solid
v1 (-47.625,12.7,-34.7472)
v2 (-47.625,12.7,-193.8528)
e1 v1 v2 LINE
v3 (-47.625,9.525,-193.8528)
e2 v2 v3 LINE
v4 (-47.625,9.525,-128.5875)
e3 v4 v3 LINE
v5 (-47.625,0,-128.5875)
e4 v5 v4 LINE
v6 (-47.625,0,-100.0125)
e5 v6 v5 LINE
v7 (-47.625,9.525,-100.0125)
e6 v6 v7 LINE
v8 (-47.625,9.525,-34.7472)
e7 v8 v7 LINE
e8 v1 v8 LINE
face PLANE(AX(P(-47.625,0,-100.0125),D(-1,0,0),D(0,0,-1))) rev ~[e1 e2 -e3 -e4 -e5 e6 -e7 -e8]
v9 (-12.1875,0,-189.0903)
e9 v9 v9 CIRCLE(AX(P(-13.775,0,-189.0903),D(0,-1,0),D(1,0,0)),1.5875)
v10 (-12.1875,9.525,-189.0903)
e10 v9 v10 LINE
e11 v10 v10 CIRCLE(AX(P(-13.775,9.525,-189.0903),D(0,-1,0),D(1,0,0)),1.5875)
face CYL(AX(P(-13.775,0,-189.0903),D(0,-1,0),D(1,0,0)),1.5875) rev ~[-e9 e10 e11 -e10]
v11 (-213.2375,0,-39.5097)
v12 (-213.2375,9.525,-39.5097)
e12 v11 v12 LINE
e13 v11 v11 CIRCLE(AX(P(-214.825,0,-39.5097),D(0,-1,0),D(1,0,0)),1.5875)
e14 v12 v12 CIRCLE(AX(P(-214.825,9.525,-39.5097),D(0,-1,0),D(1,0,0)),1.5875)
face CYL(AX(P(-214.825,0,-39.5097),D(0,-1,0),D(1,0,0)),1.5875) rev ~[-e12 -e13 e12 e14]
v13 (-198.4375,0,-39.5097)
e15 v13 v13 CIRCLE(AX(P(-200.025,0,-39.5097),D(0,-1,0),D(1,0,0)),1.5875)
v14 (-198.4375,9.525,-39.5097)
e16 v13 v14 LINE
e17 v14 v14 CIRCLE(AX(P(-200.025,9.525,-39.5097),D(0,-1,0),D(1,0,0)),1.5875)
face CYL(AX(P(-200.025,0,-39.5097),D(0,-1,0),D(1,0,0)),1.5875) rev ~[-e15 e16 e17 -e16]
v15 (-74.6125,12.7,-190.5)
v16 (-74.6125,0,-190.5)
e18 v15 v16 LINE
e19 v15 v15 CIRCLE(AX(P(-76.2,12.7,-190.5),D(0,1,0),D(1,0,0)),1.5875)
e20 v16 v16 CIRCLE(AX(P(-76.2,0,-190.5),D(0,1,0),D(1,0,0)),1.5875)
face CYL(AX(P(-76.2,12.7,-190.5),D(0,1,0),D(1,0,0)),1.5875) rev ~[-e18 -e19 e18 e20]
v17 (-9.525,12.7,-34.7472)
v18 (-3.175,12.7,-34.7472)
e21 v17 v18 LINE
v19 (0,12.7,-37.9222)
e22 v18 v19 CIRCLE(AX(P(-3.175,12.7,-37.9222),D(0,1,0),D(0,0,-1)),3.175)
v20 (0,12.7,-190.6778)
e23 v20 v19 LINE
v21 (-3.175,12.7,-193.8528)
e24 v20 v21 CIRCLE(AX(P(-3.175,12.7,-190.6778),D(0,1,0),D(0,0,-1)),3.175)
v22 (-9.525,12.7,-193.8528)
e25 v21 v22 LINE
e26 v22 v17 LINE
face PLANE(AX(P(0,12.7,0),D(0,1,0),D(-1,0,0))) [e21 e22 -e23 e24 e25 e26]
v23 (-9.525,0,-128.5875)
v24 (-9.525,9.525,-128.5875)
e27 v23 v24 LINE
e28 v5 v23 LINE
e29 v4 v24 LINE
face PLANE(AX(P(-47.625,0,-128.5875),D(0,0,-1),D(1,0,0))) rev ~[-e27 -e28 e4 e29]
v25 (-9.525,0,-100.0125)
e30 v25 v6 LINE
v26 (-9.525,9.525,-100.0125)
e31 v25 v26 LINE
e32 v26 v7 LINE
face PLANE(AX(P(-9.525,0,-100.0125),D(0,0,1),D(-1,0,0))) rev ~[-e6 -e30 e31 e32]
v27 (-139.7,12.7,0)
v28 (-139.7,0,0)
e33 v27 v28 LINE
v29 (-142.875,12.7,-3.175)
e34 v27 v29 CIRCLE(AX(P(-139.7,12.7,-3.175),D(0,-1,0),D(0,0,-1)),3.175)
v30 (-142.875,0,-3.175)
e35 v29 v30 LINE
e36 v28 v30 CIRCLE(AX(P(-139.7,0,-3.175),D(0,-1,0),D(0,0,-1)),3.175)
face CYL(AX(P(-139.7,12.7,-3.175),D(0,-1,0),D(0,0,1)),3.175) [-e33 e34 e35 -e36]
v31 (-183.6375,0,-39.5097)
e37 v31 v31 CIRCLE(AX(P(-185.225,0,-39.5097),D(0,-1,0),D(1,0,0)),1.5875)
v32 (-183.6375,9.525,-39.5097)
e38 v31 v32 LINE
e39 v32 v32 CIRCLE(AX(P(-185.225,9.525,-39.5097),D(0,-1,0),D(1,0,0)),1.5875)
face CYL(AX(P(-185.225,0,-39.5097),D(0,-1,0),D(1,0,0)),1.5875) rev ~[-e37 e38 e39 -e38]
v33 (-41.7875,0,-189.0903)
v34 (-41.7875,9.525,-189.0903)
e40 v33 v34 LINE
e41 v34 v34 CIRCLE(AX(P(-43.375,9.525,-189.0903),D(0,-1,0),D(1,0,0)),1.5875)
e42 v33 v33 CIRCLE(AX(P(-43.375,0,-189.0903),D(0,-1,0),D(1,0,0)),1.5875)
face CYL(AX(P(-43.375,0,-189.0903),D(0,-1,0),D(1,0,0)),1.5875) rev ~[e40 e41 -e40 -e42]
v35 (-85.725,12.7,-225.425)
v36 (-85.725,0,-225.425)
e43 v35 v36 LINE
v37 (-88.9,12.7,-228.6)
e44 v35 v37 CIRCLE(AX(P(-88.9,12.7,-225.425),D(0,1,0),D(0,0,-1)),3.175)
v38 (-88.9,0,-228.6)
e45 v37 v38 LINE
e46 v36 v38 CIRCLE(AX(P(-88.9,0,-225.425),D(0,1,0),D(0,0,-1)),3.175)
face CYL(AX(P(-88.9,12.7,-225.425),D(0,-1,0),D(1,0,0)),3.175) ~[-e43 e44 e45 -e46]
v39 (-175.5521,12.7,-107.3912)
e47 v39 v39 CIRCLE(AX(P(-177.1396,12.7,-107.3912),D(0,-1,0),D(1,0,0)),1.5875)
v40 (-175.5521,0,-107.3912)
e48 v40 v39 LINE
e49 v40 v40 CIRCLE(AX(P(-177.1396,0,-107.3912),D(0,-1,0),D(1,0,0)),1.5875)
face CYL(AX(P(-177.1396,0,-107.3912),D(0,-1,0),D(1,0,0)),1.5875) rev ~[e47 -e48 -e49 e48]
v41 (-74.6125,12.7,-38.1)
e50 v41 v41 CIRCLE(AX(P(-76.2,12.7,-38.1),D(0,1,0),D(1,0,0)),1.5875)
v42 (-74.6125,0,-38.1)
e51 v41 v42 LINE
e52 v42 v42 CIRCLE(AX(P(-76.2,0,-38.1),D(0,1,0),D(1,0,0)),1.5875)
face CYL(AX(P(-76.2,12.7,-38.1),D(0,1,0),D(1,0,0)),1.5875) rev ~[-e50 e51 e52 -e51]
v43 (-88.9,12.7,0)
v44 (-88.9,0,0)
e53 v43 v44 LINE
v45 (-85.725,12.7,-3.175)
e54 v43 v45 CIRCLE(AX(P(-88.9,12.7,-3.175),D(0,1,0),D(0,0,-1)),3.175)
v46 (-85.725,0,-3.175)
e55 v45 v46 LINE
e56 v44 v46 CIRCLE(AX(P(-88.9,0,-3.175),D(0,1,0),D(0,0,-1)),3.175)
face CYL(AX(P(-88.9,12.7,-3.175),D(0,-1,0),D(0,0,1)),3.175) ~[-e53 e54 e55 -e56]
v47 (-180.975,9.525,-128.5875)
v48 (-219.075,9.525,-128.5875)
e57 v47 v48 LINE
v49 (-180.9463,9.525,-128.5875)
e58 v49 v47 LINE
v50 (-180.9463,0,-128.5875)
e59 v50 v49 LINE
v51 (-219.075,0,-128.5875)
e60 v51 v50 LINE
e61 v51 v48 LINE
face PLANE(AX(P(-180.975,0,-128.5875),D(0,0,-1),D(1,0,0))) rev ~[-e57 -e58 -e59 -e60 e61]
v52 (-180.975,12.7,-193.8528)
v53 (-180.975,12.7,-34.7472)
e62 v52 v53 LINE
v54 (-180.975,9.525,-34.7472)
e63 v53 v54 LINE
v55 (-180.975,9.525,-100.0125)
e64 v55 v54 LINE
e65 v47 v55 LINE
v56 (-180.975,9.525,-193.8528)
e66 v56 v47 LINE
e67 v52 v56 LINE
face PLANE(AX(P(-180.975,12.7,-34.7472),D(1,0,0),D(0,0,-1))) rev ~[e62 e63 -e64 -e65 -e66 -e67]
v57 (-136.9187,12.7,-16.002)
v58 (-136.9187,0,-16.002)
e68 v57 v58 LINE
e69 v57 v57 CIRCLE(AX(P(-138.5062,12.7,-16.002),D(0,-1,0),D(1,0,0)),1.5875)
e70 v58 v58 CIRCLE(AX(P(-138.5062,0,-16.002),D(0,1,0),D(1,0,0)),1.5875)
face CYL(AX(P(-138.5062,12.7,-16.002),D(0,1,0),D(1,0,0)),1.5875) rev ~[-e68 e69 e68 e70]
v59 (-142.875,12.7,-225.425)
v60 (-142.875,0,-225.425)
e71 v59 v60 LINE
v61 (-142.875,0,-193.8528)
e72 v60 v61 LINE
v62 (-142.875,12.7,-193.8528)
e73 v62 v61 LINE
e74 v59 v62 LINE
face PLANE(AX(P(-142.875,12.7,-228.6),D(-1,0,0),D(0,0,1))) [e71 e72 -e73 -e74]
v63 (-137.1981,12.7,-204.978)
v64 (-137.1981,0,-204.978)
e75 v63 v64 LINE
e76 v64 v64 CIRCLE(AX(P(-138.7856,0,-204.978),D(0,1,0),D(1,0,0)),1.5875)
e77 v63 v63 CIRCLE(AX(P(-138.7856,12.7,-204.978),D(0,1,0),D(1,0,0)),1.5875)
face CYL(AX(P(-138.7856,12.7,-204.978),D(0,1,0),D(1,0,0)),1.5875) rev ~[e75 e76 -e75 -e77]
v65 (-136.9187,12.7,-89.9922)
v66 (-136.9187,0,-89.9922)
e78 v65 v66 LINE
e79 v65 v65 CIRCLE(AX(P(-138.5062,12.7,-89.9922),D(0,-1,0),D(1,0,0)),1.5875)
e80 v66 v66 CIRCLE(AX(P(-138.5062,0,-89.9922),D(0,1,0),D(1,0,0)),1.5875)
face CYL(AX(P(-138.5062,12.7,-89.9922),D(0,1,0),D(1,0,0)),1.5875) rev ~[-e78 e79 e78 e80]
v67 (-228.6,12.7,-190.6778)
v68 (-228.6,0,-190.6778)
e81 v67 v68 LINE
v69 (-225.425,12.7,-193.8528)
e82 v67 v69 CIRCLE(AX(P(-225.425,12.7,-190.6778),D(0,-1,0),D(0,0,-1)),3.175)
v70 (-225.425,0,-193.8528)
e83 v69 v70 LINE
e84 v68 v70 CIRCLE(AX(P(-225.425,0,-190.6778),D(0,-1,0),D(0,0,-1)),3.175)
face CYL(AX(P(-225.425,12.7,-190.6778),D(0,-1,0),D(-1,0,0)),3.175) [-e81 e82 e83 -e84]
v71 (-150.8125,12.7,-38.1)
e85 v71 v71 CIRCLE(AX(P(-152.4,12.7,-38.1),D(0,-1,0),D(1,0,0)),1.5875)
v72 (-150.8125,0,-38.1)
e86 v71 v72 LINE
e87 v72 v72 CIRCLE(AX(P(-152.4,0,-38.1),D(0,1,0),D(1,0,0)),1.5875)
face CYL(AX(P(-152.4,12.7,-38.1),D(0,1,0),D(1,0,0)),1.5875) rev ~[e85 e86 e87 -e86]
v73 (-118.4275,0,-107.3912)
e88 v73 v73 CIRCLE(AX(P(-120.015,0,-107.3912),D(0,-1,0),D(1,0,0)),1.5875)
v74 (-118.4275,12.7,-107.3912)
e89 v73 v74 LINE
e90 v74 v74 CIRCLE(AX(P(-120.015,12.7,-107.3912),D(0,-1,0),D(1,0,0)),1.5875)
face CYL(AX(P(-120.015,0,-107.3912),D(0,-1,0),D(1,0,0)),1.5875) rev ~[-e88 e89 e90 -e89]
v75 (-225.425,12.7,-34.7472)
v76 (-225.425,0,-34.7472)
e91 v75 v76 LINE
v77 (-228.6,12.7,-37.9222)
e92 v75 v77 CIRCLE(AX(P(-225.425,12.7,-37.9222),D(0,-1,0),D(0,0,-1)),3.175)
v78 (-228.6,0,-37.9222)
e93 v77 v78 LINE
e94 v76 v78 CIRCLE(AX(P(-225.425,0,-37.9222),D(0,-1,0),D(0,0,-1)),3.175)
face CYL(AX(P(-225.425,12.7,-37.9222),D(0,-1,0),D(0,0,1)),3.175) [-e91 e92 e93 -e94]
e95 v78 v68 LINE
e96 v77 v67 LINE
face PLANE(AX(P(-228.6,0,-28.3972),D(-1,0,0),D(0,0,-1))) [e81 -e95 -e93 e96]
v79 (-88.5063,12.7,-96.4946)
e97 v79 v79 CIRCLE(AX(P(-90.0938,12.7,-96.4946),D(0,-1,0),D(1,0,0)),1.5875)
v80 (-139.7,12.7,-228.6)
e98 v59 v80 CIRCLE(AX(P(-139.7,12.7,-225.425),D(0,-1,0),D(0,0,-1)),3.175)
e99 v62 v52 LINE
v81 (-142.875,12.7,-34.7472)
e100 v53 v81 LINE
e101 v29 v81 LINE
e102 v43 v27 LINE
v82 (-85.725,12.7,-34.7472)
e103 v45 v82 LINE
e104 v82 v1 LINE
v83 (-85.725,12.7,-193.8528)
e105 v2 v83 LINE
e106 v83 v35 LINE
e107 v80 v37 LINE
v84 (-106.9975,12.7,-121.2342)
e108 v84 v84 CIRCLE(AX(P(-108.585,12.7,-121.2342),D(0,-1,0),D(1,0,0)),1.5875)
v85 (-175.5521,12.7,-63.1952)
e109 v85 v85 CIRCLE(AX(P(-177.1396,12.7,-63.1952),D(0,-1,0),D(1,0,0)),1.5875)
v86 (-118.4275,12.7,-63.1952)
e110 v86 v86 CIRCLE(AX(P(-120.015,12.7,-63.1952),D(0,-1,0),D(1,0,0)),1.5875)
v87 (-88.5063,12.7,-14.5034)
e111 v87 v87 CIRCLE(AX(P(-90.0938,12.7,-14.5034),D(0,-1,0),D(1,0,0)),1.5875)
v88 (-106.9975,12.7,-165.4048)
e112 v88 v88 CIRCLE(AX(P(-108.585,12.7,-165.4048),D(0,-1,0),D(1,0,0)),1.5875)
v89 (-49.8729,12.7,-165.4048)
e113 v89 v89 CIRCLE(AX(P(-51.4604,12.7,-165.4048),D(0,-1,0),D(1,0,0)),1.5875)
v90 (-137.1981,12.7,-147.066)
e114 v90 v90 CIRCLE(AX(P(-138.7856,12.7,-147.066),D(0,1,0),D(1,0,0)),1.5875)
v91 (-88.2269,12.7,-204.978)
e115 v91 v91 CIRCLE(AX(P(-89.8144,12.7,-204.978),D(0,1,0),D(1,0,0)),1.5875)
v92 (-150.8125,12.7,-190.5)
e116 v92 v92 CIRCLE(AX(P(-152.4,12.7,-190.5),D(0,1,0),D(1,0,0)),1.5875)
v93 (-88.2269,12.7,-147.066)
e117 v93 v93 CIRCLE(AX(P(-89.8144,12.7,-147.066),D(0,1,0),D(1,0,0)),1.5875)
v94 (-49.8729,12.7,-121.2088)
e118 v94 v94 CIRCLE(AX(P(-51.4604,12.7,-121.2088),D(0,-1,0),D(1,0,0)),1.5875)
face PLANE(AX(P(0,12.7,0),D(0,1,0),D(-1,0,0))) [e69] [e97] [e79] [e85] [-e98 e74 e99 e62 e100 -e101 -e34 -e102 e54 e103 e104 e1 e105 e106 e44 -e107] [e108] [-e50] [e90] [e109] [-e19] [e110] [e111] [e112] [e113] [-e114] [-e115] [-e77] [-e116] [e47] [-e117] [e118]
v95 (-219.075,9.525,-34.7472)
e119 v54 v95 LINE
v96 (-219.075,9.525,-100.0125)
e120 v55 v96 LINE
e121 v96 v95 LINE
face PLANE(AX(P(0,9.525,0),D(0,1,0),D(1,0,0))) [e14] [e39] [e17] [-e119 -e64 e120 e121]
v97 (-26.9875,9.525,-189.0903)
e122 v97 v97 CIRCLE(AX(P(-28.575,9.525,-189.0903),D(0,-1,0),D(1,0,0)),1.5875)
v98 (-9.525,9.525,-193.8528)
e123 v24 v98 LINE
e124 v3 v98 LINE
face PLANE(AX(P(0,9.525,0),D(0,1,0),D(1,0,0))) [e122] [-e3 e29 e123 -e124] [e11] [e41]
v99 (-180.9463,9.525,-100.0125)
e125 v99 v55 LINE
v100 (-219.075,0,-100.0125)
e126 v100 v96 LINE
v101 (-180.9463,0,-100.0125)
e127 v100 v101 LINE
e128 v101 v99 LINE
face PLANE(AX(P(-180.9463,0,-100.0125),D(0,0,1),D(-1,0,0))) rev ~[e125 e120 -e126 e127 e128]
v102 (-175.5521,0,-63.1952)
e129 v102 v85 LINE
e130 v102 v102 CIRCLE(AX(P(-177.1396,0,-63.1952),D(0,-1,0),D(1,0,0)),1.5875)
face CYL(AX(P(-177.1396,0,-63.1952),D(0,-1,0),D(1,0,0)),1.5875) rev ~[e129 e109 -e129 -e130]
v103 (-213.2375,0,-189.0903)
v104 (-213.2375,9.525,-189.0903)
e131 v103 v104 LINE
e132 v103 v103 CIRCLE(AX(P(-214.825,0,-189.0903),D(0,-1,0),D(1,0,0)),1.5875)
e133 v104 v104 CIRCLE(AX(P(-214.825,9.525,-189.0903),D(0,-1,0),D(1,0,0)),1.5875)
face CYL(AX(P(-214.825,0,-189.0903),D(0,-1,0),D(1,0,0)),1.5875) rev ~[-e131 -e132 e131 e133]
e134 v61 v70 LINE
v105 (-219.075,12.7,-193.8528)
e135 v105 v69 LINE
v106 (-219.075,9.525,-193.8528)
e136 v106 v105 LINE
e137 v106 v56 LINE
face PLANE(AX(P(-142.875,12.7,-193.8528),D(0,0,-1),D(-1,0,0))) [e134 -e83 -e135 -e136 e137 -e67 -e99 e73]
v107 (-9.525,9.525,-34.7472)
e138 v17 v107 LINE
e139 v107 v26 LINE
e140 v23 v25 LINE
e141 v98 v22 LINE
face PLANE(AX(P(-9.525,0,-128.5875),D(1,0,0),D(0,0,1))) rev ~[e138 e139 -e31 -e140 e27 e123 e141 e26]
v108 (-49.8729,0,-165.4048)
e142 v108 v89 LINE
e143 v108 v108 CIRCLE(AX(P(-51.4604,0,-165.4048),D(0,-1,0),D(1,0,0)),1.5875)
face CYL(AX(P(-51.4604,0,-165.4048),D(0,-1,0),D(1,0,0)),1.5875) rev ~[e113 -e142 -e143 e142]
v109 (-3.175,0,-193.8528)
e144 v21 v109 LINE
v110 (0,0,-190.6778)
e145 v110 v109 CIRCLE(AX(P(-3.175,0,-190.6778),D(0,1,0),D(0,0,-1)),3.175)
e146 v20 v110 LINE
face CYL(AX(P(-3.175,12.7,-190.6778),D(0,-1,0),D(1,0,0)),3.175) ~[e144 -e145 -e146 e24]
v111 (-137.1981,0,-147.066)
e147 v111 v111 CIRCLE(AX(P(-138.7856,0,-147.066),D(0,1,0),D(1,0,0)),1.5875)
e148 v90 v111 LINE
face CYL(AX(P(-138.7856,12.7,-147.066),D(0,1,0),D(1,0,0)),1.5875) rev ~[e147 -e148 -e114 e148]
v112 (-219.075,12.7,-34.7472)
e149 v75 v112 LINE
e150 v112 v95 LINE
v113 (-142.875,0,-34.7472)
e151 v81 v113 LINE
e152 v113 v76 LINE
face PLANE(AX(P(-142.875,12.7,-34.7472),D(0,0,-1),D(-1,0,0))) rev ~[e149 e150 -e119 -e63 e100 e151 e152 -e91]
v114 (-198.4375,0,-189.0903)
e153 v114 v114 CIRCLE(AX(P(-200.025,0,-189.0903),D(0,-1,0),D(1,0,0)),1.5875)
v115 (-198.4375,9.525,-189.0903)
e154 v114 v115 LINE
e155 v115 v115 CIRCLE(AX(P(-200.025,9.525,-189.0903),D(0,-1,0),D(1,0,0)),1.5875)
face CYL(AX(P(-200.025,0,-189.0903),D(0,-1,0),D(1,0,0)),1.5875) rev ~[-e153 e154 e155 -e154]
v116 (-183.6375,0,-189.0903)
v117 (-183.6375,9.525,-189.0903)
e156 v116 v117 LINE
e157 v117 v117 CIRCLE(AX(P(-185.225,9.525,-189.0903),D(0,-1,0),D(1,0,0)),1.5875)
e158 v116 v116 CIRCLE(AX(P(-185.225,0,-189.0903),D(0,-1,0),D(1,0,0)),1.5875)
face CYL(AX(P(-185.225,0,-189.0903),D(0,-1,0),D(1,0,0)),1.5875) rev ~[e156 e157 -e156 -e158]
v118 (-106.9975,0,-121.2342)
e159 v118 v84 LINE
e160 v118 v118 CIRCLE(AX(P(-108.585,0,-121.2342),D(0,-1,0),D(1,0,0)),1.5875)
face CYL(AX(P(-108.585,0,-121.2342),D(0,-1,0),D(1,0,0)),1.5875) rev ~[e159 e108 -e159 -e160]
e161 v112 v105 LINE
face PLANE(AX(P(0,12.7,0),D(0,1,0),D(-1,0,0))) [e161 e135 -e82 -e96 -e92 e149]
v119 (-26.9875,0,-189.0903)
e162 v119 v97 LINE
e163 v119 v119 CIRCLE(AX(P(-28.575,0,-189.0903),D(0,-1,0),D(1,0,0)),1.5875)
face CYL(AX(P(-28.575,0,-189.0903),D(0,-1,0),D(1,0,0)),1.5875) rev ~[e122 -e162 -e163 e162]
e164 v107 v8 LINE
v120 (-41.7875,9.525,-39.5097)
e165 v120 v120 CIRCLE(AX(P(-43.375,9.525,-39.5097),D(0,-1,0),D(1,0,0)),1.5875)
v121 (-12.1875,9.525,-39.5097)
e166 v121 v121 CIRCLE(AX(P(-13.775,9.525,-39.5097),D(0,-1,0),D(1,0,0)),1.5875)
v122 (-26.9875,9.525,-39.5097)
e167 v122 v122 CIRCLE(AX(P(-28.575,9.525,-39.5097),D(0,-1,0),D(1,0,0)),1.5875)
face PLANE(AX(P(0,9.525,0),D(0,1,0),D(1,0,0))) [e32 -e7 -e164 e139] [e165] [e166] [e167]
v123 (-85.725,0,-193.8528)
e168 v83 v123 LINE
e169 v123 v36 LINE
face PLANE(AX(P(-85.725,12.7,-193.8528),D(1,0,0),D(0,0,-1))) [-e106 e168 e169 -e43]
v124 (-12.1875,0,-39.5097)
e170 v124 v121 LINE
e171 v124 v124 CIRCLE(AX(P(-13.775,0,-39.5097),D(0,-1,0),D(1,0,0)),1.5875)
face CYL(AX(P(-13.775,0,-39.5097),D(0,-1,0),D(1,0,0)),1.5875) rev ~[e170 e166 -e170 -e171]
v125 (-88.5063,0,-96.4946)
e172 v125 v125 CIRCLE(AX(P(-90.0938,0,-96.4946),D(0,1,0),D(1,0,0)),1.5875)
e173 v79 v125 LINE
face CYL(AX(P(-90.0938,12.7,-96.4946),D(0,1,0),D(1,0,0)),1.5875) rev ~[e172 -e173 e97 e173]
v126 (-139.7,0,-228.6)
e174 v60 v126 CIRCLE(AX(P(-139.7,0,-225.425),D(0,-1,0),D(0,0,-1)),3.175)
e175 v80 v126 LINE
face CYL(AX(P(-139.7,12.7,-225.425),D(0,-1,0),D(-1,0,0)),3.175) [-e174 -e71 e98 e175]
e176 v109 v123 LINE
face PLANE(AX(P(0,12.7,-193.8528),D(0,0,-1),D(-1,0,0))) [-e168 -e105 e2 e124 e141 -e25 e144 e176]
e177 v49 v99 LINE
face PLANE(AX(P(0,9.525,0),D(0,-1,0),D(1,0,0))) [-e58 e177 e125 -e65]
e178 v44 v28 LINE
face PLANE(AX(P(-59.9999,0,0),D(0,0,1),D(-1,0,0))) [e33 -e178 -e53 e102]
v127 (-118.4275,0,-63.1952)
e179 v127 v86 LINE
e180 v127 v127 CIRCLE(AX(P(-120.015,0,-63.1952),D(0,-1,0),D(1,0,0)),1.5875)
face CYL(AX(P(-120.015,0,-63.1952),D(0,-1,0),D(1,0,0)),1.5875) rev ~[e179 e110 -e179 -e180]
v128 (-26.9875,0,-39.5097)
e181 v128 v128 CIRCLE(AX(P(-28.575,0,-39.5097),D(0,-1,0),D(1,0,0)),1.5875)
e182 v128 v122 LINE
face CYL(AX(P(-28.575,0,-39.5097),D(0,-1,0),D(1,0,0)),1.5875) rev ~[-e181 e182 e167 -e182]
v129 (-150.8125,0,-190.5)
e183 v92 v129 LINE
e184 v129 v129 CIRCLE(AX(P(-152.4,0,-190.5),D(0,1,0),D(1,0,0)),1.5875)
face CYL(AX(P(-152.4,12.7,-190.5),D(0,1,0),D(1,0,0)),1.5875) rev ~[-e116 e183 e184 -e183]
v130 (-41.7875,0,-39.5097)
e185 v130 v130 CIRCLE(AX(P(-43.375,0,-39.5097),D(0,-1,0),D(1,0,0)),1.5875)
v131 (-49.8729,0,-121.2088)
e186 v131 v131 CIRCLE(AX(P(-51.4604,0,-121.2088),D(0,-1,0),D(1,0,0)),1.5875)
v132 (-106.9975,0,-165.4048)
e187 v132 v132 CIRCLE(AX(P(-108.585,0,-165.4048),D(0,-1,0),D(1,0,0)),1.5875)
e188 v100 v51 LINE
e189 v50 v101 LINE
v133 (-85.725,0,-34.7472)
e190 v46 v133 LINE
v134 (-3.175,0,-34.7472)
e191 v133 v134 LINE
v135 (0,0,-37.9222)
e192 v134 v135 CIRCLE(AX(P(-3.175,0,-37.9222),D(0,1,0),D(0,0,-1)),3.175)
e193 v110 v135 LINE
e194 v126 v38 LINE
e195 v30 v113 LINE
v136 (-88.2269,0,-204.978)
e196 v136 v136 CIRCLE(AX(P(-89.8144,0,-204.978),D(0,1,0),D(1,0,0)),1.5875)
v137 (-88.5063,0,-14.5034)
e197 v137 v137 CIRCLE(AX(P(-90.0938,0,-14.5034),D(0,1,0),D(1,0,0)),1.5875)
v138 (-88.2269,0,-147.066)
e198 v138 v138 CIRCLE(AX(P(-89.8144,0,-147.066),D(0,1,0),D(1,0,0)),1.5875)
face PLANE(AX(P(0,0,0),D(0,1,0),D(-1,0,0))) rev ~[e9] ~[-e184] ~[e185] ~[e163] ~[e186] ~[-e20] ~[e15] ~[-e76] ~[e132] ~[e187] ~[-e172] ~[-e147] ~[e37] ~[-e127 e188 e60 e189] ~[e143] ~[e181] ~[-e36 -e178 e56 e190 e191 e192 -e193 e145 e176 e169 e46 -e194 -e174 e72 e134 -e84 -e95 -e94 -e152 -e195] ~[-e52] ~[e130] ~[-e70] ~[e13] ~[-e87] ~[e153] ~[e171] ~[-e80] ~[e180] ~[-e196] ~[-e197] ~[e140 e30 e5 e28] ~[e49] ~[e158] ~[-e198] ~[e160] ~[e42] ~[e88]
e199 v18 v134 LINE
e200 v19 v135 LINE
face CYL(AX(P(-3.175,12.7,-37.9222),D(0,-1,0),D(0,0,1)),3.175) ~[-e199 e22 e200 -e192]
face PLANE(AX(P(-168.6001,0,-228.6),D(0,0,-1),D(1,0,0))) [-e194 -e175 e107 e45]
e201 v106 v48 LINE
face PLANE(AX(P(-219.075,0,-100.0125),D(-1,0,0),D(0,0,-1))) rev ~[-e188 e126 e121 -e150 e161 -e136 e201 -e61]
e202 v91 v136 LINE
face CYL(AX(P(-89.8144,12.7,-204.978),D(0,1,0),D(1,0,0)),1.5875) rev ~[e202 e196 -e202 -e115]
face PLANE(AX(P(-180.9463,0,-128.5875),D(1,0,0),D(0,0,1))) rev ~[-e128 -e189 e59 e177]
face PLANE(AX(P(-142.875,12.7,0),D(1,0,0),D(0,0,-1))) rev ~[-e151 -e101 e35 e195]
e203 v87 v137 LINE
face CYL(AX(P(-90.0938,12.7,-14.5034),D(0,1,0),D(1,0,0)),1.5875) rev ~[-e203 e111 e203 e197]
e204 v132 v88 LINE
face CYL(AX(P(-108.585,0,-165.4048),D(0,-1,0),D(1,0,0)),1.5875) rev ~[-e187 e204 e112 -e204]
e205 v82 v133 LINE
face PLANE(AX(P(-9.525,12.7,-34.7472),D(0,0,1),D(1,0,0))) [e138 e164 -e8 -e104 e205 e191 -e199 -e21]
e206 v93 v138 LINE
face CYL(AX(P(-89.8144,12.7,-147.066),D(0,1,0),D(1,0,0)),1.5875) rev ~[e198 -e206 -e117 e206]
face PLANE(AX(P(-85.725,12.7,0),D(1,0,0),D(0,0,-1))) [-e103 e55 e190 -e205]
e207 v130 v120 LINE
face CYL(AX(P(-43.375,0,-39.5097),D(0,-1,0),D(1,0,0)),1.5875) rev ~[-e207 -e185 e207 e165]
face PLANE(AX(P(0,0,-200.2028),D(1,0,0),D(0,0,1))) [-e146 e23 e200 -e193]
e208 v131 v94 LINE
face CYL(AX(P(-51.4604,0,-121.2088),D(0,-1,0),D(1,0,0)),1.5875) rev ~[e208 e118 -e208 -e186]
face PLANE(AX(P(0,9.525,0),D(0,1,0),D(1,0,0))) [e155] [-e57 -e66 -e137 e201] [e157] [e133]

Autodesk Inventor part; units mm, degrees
ref_plane "YZ Plane" through (0, 0, 0) normal (1, 0, 0) x (0, 1, 0)
ref_plane "XZ Plane" through (0, 0, 0) normal (0, 1, 0) x (-1, 0, 0)
ref_plane "XY Plane" through (0, 0, 0) normal (0, 0, 1) x (1, 0, 0)
sketch "Sketch1" plane through (0, 0, 0) normal (0, 1, 0) x (-1, 0, 0)
  line L0 (0, 0) -> (228.6, 0)
  line L1 (228.6, 0) -> (228.6, -228.6)
  line L2 (228.6, -228.6) -> (0, -228.6)
  line L3 (0, -228.6) -> (0, 0)
  line L4 (0, 0) -> (59.9999, 0)
  line L5 (59.9999, 0) -> (59.9999, -28.3972)
  line L6 (59.9999, -28.3972) -> (0, -28.3972)
  line L7 (0, -28.3972) -> (0, 0)
  line L8 (114.3, 0) -> (114.3, -114.3) construction
  line L9 (114.3, -114.3) -> (0, -114.3) construction
  line L10 (228.6, 0) -> (0, 0)
  line L11 (228.6, -228.6) -> (228.6, 0)
  line L12 (228.6, 0) -> (168.6001, 0)
  line L13 (168.6001, 0) -> (168.6001, -28.3972)
  line L14 (168.6001, -28.3972) -> (228.6, -28.3972)
  line L15 (228.6, -28.3972) -> (228.6, 0)
  line L16 (228.6, -228.6) -> (228.6, 0)
  line L17 (0, 0) -> (0, -228.6)
  line L18 (0, -228.6) -> (59.9999, -228.6)
  line L19 (59.9999, -228.6) -> (59.9999, -200.2028)
  line L20 (59.9999, -200.2028) -> (0, -200.2028)
  line L21 (0, -200.2028) -> (0, -228.6)
  line L22 (228.6, 0) -> (228.6, -228.6)
  line L23 (228.6, -228.6) -> (168.6001, -228.6)
  line L24 (168.6001, -228.6) -> (168.6001, -200.2028)
  line L25 (168.6001, -200.2028) -> (228.6, -200.2028)
  line L26 (228.6, -200.2028) -> (228.6, -228.6)
  dimension "d0" = 228.6
  dimension "d1" = 228.6
  dimension "d2" = 59.9999
  dimension "d3" = 28.3972
extrude "Extrusion1" add sketch "Sketch1" along normal blind 12.7 contours L0 L13 L14 L1 L25 L24 L2 L19 L20 L3 L6 L5
sketch "Sketch2" plane through (0, 12.7, 0) normal (0, 1, 0) x (1, 0, 0)
  line L0 (-59.9999, 200.2028) -> (-59.9999, 228.6) projected
  line L1 (-59.9999, 228.6) -> (-168.6001, 228.6) projected
  line L2 (-168.6001, 228.6) -> (-168.6001, 200.2028) projected
  line L3 (-168.6001, 200.2028) -> (-228.6, 200.2028) projected
  line L4 (-228.6, 200.2028) -> (-228.6, 28.3972) projected
  line L5 (-228.6, 28.3972) -> (-168.6001, 28.3972) projected
  line L6 (-168.6001, 28.3972) -> (-168.6001, 0) projected
  line L7 (-168.6001, 0) -> (-59.9999, 0) projected
  line L8 (-59.9999, 0) -> (-59.9999, 28.3972) projected
  line L9 (-59.9999, 28.3972) -> (0, 28.3972) projected
  line L10 (0, 28.3972) -> (0, 200.2028) projected
  line L11 (0, 200.2028) -> (-59.9999, 200.2028) projected
  line L12 (-228.6, 28.3972) -> (-168.6001, 28.3972) projected
  line L13 (-198.6001, 28.3972) -> (-198.6001, 34.7472) construction
  line L14 (-228.6, 200.2028) -> (-228.6, 28.3972) projected
  line L15 (-228.6, 34.7472) -> (-219.075, 34.7472) construction
  line L16 (-228.6, 34.7472) -> (-219.075, 34.7472) construction
  line L17 (-219.075, 34.7472) -> (-180.975, 34.7472)
  line L18 (-180.975, 34.7472) -> (-180.975, 44.2722)
  line L19 (-180.975, 44.2722) -> (-219.075, 44.2722)
  line L20 (-219.075, 44.2722) -> (-219.075, 34.7472)
  line L21 (-200.025, 44.2722) -> (-200.025, 39.5097) construction
  line L22 (-200.025, 39.5097) -> (-219.075, 39.5097) construction
  circle A0 centre (-200.025, 39.5097) radius 1.5875
  line L23 (-200.025, 39.5097) -> (-214.825, 39.5097)
  circle A1 centre (-214.825, 39.5097) radius 1.5875
  circle A2 centre (-185.225, 39.5097) radius 1.5875
  line L24 (-228.6, 200.2028) -> (-228.6, 28.3972) projected
  line L25 (-228.6, 114.3) -> (-114.3, 114.3) construction
  line L26 (-114.3, 114.3) -> (-114.3, 0) construction
  line L27 (-29.9999, 28.3972) -> (-29.9999, 34.7472) construction
  line L28 (0, 34.7472) -> (-9.525, 34.7472) construction
  line L29 (0, 34.7472) -> (-9.525, 34.7472) construction
  line L30 (-9.525, 34.7472) -> (-47.625, 34.7472)
  line L31 (-47.625, 34.7472) -> (-47.625, 44.2722)
  line L32 (-47.625, 44.2722) -> (-9.525, 44.2722)
  line L33 (-9.525, 44.2722) -> (-9.525, 34.7472)
  line L34 (-28.575, 44.2722) -> (-28.575, 39.5097) construction
  line L35 (-28.575, 39.5097) -> (-9.525, 39.5097) construction
  circle A3 centre (-28.575, 39.5097) radius 1.5875
  line L36 (-28.575, 39.5097) -> (-13.775, 39.5097)
  circle A4 centre (-13.775, 39.5097) radius 1.5875
  circle A5 centre (-43.375, 39.5097) radius 1.5875
  line L37 (-198.6001, 200.2028) -> (-198.6001, 193.8528) construction
  line L38 (-228.6, 193.8528) -> (-219.075, 193.8528) construction
  line L39 (-228.6, 193.8528) -> (-219.075, 193.8528) construction
  line L40 (-219.075, 193.8528) -> (-180.975, 193.8528)
  line L41 (-180.975, 193.8528) -> (-180.975, 184.3278)
  line L42 (-180.975, 184.3278) -> (-219.075, 184.3278)
  line L43 (-219.075, 184.3278) -> (-219.075, 193.8528)
  line L44 (-200.025, 184.3278) -> (-200.025, 189.0903) construction
  line L45 (-200.025, 189.0903) -> (-219.075, 189.0903) construction
  circle A6 centre (-200.025, 189.0903) radius 1.5875
  line L46 (-200.025, 189.0903) -> (-214.825, 189.0903)
  circle A7 centre (-214.825, 189.0903) radius 1.5875
  circle A8 centre (-185.225, 189.0903) radius 1.5875
  line L47 (-114.3, 114.3) -> (-114.3, 228.6) construction
  line L48 (-47.625, 193.8528) -> (-47.625, 184.3278)
  circle A9 centre (-43.375, 189.0903) radius 1.5875
  circle A10 centre (-28.575, 189.0903) radius 1.5875
  line L49 (-29.9999, 200.2028) -> (-29.9999, 193.8528) construction
  line L50 (-47.625, 184.3278) -> (-9.525, 184.3278)
  line L51 (-9.525, 184.3278) -> (-9.525, 193.8528)
  line L52 (0, 193.8528) -> (-9.525, 193.8528) construction
  line L53 (0, 193.8528) -> (-9.525, 193.8528) construction
  line L54 (-9.525, 193.8528) -> (-47.625, 193.8528)
  line L55 (-28.575, 189.0903) -> (-13.775, 189.0903)
  line L56 (-28.575, 189.0903) -> (-9.525, 189.0903) construction
  circle A11 centre (-13.775, 189.0903) radius 1.5875
  line L57 (-28.575, 184.3278) -> (-28.575, 189.0903) construction
  point P0 (0, 0)
  dimension "d6" = 6.35
  dimension "d7" = 9.525
  dimension "d8" = 0
  dimension "d9" = 38.1
  dimension "d10" = 9.525
  dimension "d11" = 3.175
  dimension "d12" = 14.8
  dimension "d13" = 3.175
extrude "Extrusion2" cut sketch "Sketch2" against normal blind 0.7937 contours L20 L19 L18 L17 | L30 L31 L32 L33 | L40 L41 L42 L43 | L54 L51 L50 L48
sketch "Sketch3" plane through (0, 0, 0) normal (0, -1, 0) x (1, 0, 0)
  circle A0 centre (-13.775, -39.5097) radius 1.5875 projected
  circle A1 centre (-28.575, -39.5097) radius 1.5875 projected
  circle A2 centre (-43.375, -39.5097) radius 1.5875 projected
  circle A3 centre (-13.775, -189.0903) radius 1.5875 projected
  circle A4 centre (-28.575, -189.0903) radius 1.5875 projected
  circle A5 centre (-43.375, -189.0903) radius 1.5875 projected
  circle A6 centre (-185.225, -189.0903) radius 1.5875 projected
  circle A7 centre (-200.025, -189.0903) radius 1.5875 projected
  circle A8 centre (-214.825, -189.0903) radius 1.5875 projected
  circle A9 centre (-214.825, -39.5097) radius 1.5875 projected
  circle A10 centre (-200.025, -39.5097) radius 1.5875 projected
  circle A11 centre (-185.225, -39.5097) radius 1.5875 projected
  point P0 (0, 0)
extrude "Extrusion3" cut sketch "Sketch3" against normal up to surface (12.7 mm away)
sketch "Sketch4" plane through (0, 12.7, 0) normal (0, 1, 0) x (1, 0, 0)
  line L0 (-219.075, 184.3278) -> (-219.075, 193.8528) projected
  line L1 (-219.075, 193.8528) -> (-180.975, 193.8528)
  line L2 (-180.975, 193.8528) -> (-180.975, 34.7472)
  line L3 (-180.975, 34.7472) -> (-219.075, 34.7472)
  line L4 (-219.075, 34.7472) -> (-219.075, 193.8528)
  line L5 (-47.625, 193.8528) -> (-9.525, 193.8528) projected
  line L6 (-9.525, 44.2722) -> (-9.525, 34.7472) projected
  line L7 (-47.625, 193.8528) -> (-9.525, 193.8528)
  line L8 (-9.525, 193.8528) -> (-9.525, 34.7472)
  line L9 (-9.525, 34.7472) -> (-47.625, 34.7472)
  line L10 (-47.625, 34.7472) -> (-47.625, 193.8528)
  point P0 (0, 0)
extrude "Extrusion4" cut sketch "Sketch4" against normal blind 3.175
sketch "Sketch5" plane through (0, 12.7, 0) normal (0, 1, 0) x (1, 0, 0)
  line L0 (-168.6001, 0) -> (-59.9999, 0) projected
  line L1 (-114.3, 0) -> (-114.3, 38.1)
  line L2 (-228.6, 200.2028) -> (-228.6, 28.3972) projected
  line L3 (-228.6, 38.1) -> (-152.4, 38.1)
  circle A0 centre (-152.4, 38.1) radius 1.5875
  line L4 (-228.6, 114.3) -> (-127.0378, 114.3)
  circle A1 centre (-76.2, 38.1) radius 1.5875
  circle A2 centre (-152.4, 190.5) radius 1.5875
  circle A3 centre (-76.2, 190.5) radius 1.5875
  point P0 (0, 0)
  dimension "d20" = 38.1
  dimension "d21" = 76.2
  dimension "d22" = 3.175
extrude "Extrusion5" cut sketch "Sketch5" against normal up to surface (12.7 mm away)
sketch "Sketch7" plane through (0, 12.7, 0) normal (0, 1, 0) x (1, 0, 0)
  circle A0 centre (-152.4, 190.5) radius 1.5875 projected
  circle A1 centre (-76.2, 190.5) radius 1.5875 projected
  circle A2 centre (-76.2, 38.1) radius 1.5875 projected
  circle A3 centre (-152.4, 38.1) radius 1.5875 projected
  line L0 (-59.9999, 200.2028) -> (-59.9999, 228.6) projected
  line L1 (-59.9999, 228.6) -> (-168.6001, 228.6) projected
  line L2 (-168.6001, 228.6) -> (-168.6001, 200.2028) projected
  line L3 (-168.6001, 200.2028) -> (-228.6, 200.2028) projected
  line L4 (-228.6, 200.2028) -> (-228.6, 28.3972) projected
  line L5 (-228.6, 28.3972) -> (-168.6001, 28.3972) projected
  line L6 (-168.6001, 28.3972) -> (-168.6001, 0) projected
  line L7 (-168.6001, 0) -> (-59.9999, 0) projected
  line L8 (-59.9999, 0) -> (-59.9999, 28.3972) projected
  line L9 (-59.9999, 28.3972) -> (0, 28.3972) projected
  line L10 (0, 28.3972) -> (0, 200.2028) projected
  line L11 (0, 200.2028) -> (-59.9999, 200.2028) projected
  line L12 (-47.625, 34.7472) -> (-47.625, 193.8528) projected
  line L13 (-47.625, 193.8528) -> (-9.525, 193.8528) projected
  line L14 (-9.525, 193.8528) -> (-9.525, 34.7472) projected
  line L15 (-9.525, 34.7472) -> (-47.625, 34.7472) projected
  line L16 (-219.075, 34.7472) -> (-219.075, 193.8528) projected
  line L17 (-219.075, 193.8528) -> (-180.975, 193.8528) projected
  line L18 (-180.975, 193.8528) -> (-180.975, 34.7472) projected
  line L19 (-180.975, 34.7472) -> (-219.075, 34.7472) projected
  line L20 (-228.6, 228.6) -> (-142.875, 228.6)
  line L21 (-228.6, 200.2028) -> (-228.6, 228.6)
  line L22 (0, 228.6) -> (-85.725, 228.6)
  line L23 (0, 200.2028) -> (0, 228.6)
  line L24 (0, 0) -> (-85.725, 0)
  line L25 (-85.725, 0) -> (-85.725, 34.7472)
  line L26 (-85.725, 34.7472) -> (0, 34.7472)
  line L27 (0, 34.7472) -> (0, 0)
  line L28 (-228.6, 0) -> (-142.875, 0)
  line L29 (-142.875, 0) -> (-142.875, 34.7472)
  line L30 (-142.875, 34.7472) -> (-228.6, 34.7472)
  line L31 (-228.6, 34.7472) -> (-228.6, 0)
  line L32 (-228.6, 228.6) -> (-142.875, 228.6)
  line L33 (-142.875, 228.6) -> (-142.875, 193.8528)
  line L34 (-142.875, 193.8528) -> (-228.6, 193.8528)
  line L35 (-228.6, 193.8528) -> (-228.6, 228.6)
  line L36 (0, 28.3972) -> (0, 200.2028) projected
  line L37 (0, 193.8528) -> (-85.725, 193.8528)
  line L38 (-85.725, 193.8528) -> (-85.725, 228.6)
  line L39 (-85.725, 228.6) -> (0, 228.6)
  line L40 (0, 228.6) -> (0, 193.8528)
  dimension "d30" = 34.7472
extrude "Extrusion7" cut sketch "Sketch7" against normal blind 25.4 contours L11 L10 L37 L13 L38 L1 L0 | L0 L22 L23 L11 | L33 L34 L17 L4 L3 L2 L1 | L10 L9 L8 L7 L25 L26 L15 | L2 L3 L21 L20 | L27 L24 L8 L9 | L30 L29 L7 L6 L5 L4 L19 | L5 L6 L28 L31
sketch "Sketch8" plane through (0, 12.7, 0) normal (0, 1, 0) x (1, 0, 0)
  circle A0 centre (-214.825, 189.0903) radius 1.5875 projected
  circle A1 centre (-185.225, 189.0903) radius 1.5875 projected
  circle A2 centre (-28.575, 189.0903) radius 1.5875 projected
  circle A3 centre (-43.375, 39.5097) radius 1.5875 projected
  circle A4 centre (-13.775, 39.5097) radius 1.5875 projected
  circle A5 centre (-28.575, 39.5097) radius 1.5875 projected
  circle A6 centre (-13.775, 189.0903) radius 1.5875 projected
  circle A7 centre (-43.375, 189.0903) radius 1.5875 projected
  circle A8 centre (-200.025, 189.0903) radius 1.5875 projected
  circle A9 centre (-214.825, 39.5097) radius 1.5875 projected
  circle A10 centre (-185.225, 39.5097) radius 1.5875 projected
  circle A11 centre (-200.025, 39.5097) radius 1.5875 projected
  circle A12 centre (-152.4, 38.1) radius 1.5875 projected
  circle A13 centre (-76.2, 38.1) radius 1.5875 projected
  circle A14 centre (-76.2, 190.5) radius 1.5875 projected
  circle A15 centre (-152.4, 190.5) radius 1.5875 projected
  line L0 (-142.875, 0) -> (-142.875, 34.7472) projected
  line L1 (-142.875, 34.7472) -> (-228.6, 34.7472) projected
  line L2 (-228.6, 193.8528) -> (-228.6, 34.7472) projected
  line L3 (-228.6, 193.8528) -> (-142.875, 193.8528) projected
  line L4 (-142.875, 193.8528) -> (-142.875, 228.6) projected
  line L5 (-85.725, 228.6) -> (-142.875, 228.6) projected
  line L6 (-85.725, 228.6) -> (-85.725, 193.8528) projected
  line L7 (-85.725, 193.8528) -> (0, 193.8528) projected
  line L8 (0, 34.7472) -> (0, 193.8528) projected
  line L9 (0, 34.7472) -> (-85.725, 34.7472) projected
  line L10 (-85.725, 34.7472) -> (-85.725, 0) projected
  line L11 (-142.875, 0) -> (-85.725, 0) projected
  line L12 (-142.875, 0) -> (-85.725, 0) projected
  line L13 (-142.875, 0) -> (-138.5062, 0)
  line L14 (-138.5062, 0) -> (-138.5062, 89.9922)
  line L15 (-138.5062, 89.9922) -> (-142.875, 89.9922)
  line L16 (-142.875, 89.9922) -> (-142.875, 0)
  line L17 (-142.875, 0) -> (-142.875, 34.7472) projected
  line L18 (-138.5062, 0) -> (-142.875, 0)
  line L19 (-142.875, 0) -> (-142.875, 16.002)
  line L20 (-142.875, 16.002) -> (-138.5062, 16.002)
  line L21 (-138.5062, 16.002) -> (-138.5062, 0)
  line L22 (-85.725, 0) -> (-90.0938, 0)
  line L23 (-90.0938, 0) -> (-90.0938, 14.5034)
  line L24 (-90.0938, 14.5034) -> (-85.725, 14.5034)
  line L25 (-85.725, 14.5034) -> (-85.725, 0)
  line L26 (-85.725, 0) -> (-90.0938, 0)
  line L27 (-90.0938, 0) -> (-90.0938, 96.4946)
  line L28 (-90.0938, 96.4946) -> (-85.725, 96.4946)
  line L29 (-85.725, 96.4946) -> (-85.725, 0)
  circle A16 centre (-138.5062, 89.9922) radius 1.5875
  circle A17 centre (-90.0938, 96.4946) radius 1.5875
  circle A18 centre (-90.0938, 14.5034) radius 1.5875
  circle A19 centre (-138.5062, 16.002) radius 1.5875
  point P0 (0, 0)
  dimension "d33" = 4.3688
  dimension "d34" = 89.9922
  dimension "d35" = 16.002
  dimension "d36" = 4.3688
  dimension "d37" = 14.5034
  dimension "d38" = 96.4946
  dimension "d39" = 3.175
  dimension "d40" = 3.175
  dimension "d41" = 3.175
  dimension "d42" = 3.175
  dimension "d74" = 4.3688
extrude "ardMount" cut sketch "Sketch8" against normal up to surface (12.7 mm away) contours A19 L14 L20 | L20 L14 A19 | L14 A19 | A18 L27 L23 | L23 L24 A18 | A16 L14 L15 | L15 L14 A16 | L27 A18 L24 | A17 L28 L27 | L27 L28 A17
sketch "Sketch9" plane through (0, 12.7, 0) normal (0, 1, 0) x (1, 0, 0)
  circle A0 centre (-138.5062, 16.002) radius 1.5875 projected
  circle A1 centre (-90.0938, 14.5034) radius 1.5875 projected
  circle A2 centre (-138.5062, 89.9922) radius 1.5875 projected
  circle A3 centre (-90.0938, 96.4946) radius 1.5875 projected
  line L0 (-142.875, 34.7472) -> (-142.875, 0) projected
  line L1 (-142.875, 0) -> (-85.725, 0) projected
  line L2 (-85.725, 0) -> (-85.725, 34.7472) projected
  line L3 (-85.725, 34.7472) -> (-47.625, 34.7472) projected
  line L4 (-47.625, 34.7472) -> (-47.625, 193.8528) projected
  line L5 (-47.625, 193.8528) -> (-85.725, 193.8528) projected
  line L6 (-85.725, 193.8528) -> (-85.725, 228.6) projected
  line L7 (-85.725, 228.6) -> (-142.875, 228.6) projected
  line L8 (-142.875, 228.6) -> (-142.875, 193.8528) projected
  line L9 (-142.875, 193.8528) -> (-180.975, 193.8528) projected
  line L10 (-180.975, 193.8528) -> (-180.975, 34.7472) projected
  line L11 (-180.975, 34.7472) -> (-142.875, 34.7472) projected
  circle A4 centre (-152.4, 190.5) radius 1.5875 projected
  circle A5 centre (-76.2, 190.5) radius 1.5875 projected
  circle A6 centre (-76.2, 38.1) radius 1.5875 projected
  circle A7 centre (-152.4, 38.1) radius 1.5875 projected
  line L12 (-85.725, 228.6) -> (-142.875, 228.6) projected
  line L13 (-114.3, 228.6) -> (-114.3, 148.6607) construction
  line L14 (-142.875, 228.6) -> (-138.7856, 228.6) construction
  line L15 (-138.7856, 228.6) -> (-138.7856, 204.978) construction
  line L16 (-138.7856, 204.978) -> (-142.875, 204.978) construction
  line L17 (-142.875, 204.978) -> (-142.875, 228.6) construction
  line L18 (-142.875, 228.6) -> (-142.875, 193.8528) construction
  line L19 (-142.875, 228.6) -> (-138.7856, 228.6) construction
  line L20 (-138.7856, 228.6) -> (-138.7856, 147.066) construction
  line L21 (-138.7856, 147.066) -> (-142.875, 147.066) construction
  line L22 (-142.875, 147.066) -> (-142.875, 228.6) construction
  circle A8 centre (-138.7856, 204.978) radius 1.5875
  circle A9 centre (-138.7856, 147.066) radius 1.5875
  circle A10 centre (-89.8144, 204.978) radius 1.5875
  circle A11 centre (-89.8144, 147.066) radius 1.5875
  point P0 (0, 0)
  dimension "d45" = 4.0894
  dimension "d46" = 23.622
  dimension "d47" = 81.534
  dimension "d48" = 3.175
  dimension "d49" = 3.175
extrude "piMount" cut sketch "Sketch9" against normal up to surface (12.7 mm away) contours A8 | A9 | A10 | A11
sketch "Sketch10" plane through (0, 0, 0) normal (0, -1, 0) x (1, 0, 0)
  circle A0 centre (-89.8144, -204.978) radius 1.5875 projected
  circle A1 centre (-89.8144, -147.066) radius 1.5875 projected
  circle A2 centre (-138.7856, -147.066) radius 1.5875 projected
  circle A3 centre (-138.7856, -204.978) radius 1.5875 projected
  circle A4 centre (-138.5062, -16.002) radius 1.5875 projected
  circle A5 centre (-90.0938, -14.5034) radius 1.5875 projected
  circle A6 centre (-138.5062, -89.9922) radius 1.5875 projected
  circle A7 centre (-90.0938, -96.4946) radius 1.5875 projected
  circle A8 centre (-214.825, -189.0903) radius 1.5875 projected
  circle A9 centre (-185.225, -189.0903) radius 1.5875 projected
  circle A10 centre (-28.575, -189.0903) radius 1.5875 projected
  circle A11 centre (-43.375, -39.5097) radius 1.5875 projected
  circle A12 centre (-13.775, -39.5097) radius 1.5875 projected
  circle A13 centre (-28.575, -39.5097) radius 1.5875 projected
  circle A14 centre (-13.775, -189.0903) radius 1.5875 projected
  circle A15 centre (-43.375, -189.0903) radius 1.5875 projected
  circle A16 centre (-200.025, -189.0903) radius 1.5875 projected
  circle A17 centre (-214.825, -39.5097) radius 1.5875 projected
  circle A18 centre (-185.225, -39.5097) radius 1.5875 projected
  circle A19 centre (-200.025, -39.5097) radius 1.5875 projected
  circle A20 centre (-152.4, -38.1) radius 1.5875 projected
  circle A21 centre (-76.2, -38.1) radius 1.5875 projected
  circle A22 centre (-76.2, -190.5) radius 1.5875 projected
  circle A23 centre (-152.4, -190.5) radius 1.5875 projected
  line L0 (-142.875, 0) -> (-142.875, -34.7472) projected
  line L1 (-142.875, -34.7472) -> (-228.6, -34.7472) projected
  line L2 (-228.6, -193.8528) -> (-228.6, -34.7472) projected
  line L3 (-228.6, -193.8528) -> (-142.875, -193.8528) projected
  line L4 (-142.875, -193.8528) -> (-142.875, -228.6) projected
  line L5 (-85.725, -228.6) -> (-142.875, -228.6) projected
  line L6 (-85.725, -228.6) -> (-85.725, -193.8528) projected
  line L7 (-85.725, -193.8528) -> (0, -193.8528) projected
  line L8 (0, -34.7472) -> (0, -193.8528) projected
  line L9 (0, -34.7472) -> (-85.725, -34.7472) projected
  line L10 (-85.725, -34.7472) -> (-85.725, 0) projected
  line L11 (-142.875, 0) -> (-85.725, 0) projected
  line L12 (-142.875, -34.7472) -> (-228.6, -34.7472) construction
  line L13 (-228.6, -34.7472) -> (-177.1396, -34.7472) construction
  line L14 (-177.1396, -34.7472) -> (-177.1396, -107.3912) construction
  line L15 (-177.1396, -107.3912) -> (-228.6, -107.3912) construction
  line L16 (-228.6, -107.3912) -> (-228.6, -34.7472) construction
  line L17 (-228.6, -34.7472) -> (-177.1396, -34.7472) construction
  line L18 (-177.1396, -34.7472) -> (-177.1396, -63.1952) construction
  line L19 (-177.1396, -63.1952) -> (-228.6, -63.1952) construction
  line L20 (-228.6, -63.1952) -> (-228.6, -34.7472) construction
  line L21 (-228.6, -34.7472) -> (-120.015, -34.7472) construction
  line L22 (-120.015, -34.7472) -> (-120.015, -107.3912) construction
  line L23 (-120.015, -107.3912) -> (-228.6, -107.3912) construction
  line L24 (-228.6, -107.3912) -> (-228.6, -34.7472) construction
  line L25 (-228.6, -34.7472) -> (-120.015, -34.7472) construction
  line L26 (-120.015, -34.7472) -> (-120.015, -63.1952) construction
  line L27 (-120.015, -63.1952) -> (-228.6, -63.1952) construction
  line L28 (-228.6, -63.1952) -> (-228.6, -34.7472) construction
  line L29 (-85.725, -193.8528) -> (0, -193.8528) construction
  line L30 (0, -193.8528) -> (-51.4604, -193.8528) construction
  line L31 (-51.4604, -193.8528) -> (-51.4604, -121.2088) construction
  line L32 (-51.4604, -121.2088) -> (0, -121.2088) construction
  line L33 (0, -121.2088) -> (0, -193.8528) construction
  line L34 (0, -34.7472) -> (0, -193.8528) construction
  line L35 (0, -193.8528) -> (-51.4604, -193.8528) construction
  line L36 (-51.4604, -193.8528) -> (-51.4604, -165.4048) construction
  line L37 (-51.4604, -165.4048) -> (0, -165.4048) construction
  line L38 (0, -165.4048) -> (0, -193.8528) construction
  line L39 (0, -193.8528) -> (-108.585, -193.8528) construction
  line L40 (-108.585, -193.8528) -> (-108.585, -121.2342) construction
  line L41 (-108.585, -121.2342) -> (0, -121.2342) construction
  line L42 (0, -121.2342) -> (0, -193.8528) construction
  line L43 (0, -193.8528) -> (-108.585, -193.8528) construction
  line L44 (-108.585, -193.8528) -> (-108.585, -165.4048) construction
  line L45 (-108.585, -165.4048) -> (0, -165.4048) construction
  line L46 (0, -165.4048) -> (0, -193.8528) construction
  circle A24 centre (-108.585, -121.2342) radius 1.5875
  circle A25 centre (-108.585, -165.4048) radius 1.5875
  circle A26 centre (-51.4604, -165.4048) radius 1.5875
  circle A27 centre (-51.4604, -121.2088) radius 1.5875
  circle A28 centre (-177.1396, -107.3912) radius 1.5875
  circle A29 centre (-177.1396, -63.1952) radius 1.5875
  circle A30 centre (-120.015, -63.1952) radius 1.5875
  circle A31 centre (-120.015, -107.3912) radius 1.5875
  point P0 (0, 0)
  dimension "d52" = 51.4604
  dimension "d53" = 72.644
  dimension "d54" = 28.448
  dimension "d55" = 108.585
  dimension "d56" = 51.4604
  dimension "d57" = 72.644
  dimension "d58" = 28.448
  dimension "d59" = 108.585
  dimension "d60" = 3.175
  dimension "d61" = 3.175
  dimension "d62" = 3.175
  dimension "d63" = 3.175
  dimension "d64" = 3.175
  dimension "d65" = 3.175
  dimension "d66" = 3.175
  dimension "d67" = 3.175
extrude "sabertoothMount" cut sketch "Sketch10" against normal up to surface (12.7 mm away) contours A24 | A25 | A26 | A27 | A28 | A29 | A30 | A31
sketch "Sketch11" plane through (0, 0, 0) normal (0, -1, 0) x (1, 0, 0)
  line L0 (-47.625, -34.7472) -> (-47.625, -193.8528) projected
  circle A0 centre (-120.015, -63.1952) radius 1.5875 projected
  circle A1 centre (-120.015, -107.3912) radius 1.5875 projected
  circle A2 centre (-177.1396, -63.1952) radius 1.5875 projected
  circle A3 centre (-51.4604, -121.2088) radius 1.5875 projected
  circle A4 centre (-108.585, -165.4048) radius 1.5875 projected
  circle A5 centre (-108.585, -121.2342) radius 1.5875 projected
  circle A6 centre (-51.4604, -165.4048) radius 1.5875 projected
  circle A7 centre (-177.1396, -107.3912) radius 1.5875 projected
  circle A8 centre (-89.8144, -204.978) radius 1.5875 projected
  circle A9 centre (-89.8144, -147.066) radius 1.5875 projected
  circle A10 centre (-138.7856, -147.066) radius 1.5875 projected
  circle A11 centre (-138.7856, -204.978) radius 1.5875 projected
  circle A12 centre (-138.5062, -16.002) radius 1.5875 projected
  circle A13 centre (-90.0938, -14.5034) radius 1.5875 projected
  circle A14 centre (-138.5062, -89.9922) radius 1.5875 projected
  circle A15 centre (-90.0938, -96.4946) radius 1.5875 projected
  circle A16 centre (-214.825, -189.0903) radius 1.5875 projected
  circle A17 centre (-185.225, -189.0903) radius 1.5875 projected
  circle A18 centre (-28.575, -189.0903) radius 1.5875 projected
  circle A19 centre (-43.375, -39.5097) radius 1.5875 projected
  circle A20 centre (-13.775, -39.5097) radius 1.5875 projected
  circle A21 centre (-28.575, -39.5097) radius 1.5875 projected
  circle A22 centre (-13.775, -189.0903) radius 1.5875 projected
  circle A23 centre (-43.375, -189.0903) radius 1.5875 projected
  circle A24 centre (-200.025, -189.0903) radius 1.5875 projected
  circle A25 centre (-214.825, -39.5097) radius 1.5875 projected
  circle A26 centre (-185.225, -39.5097) radius 1.5875 projected
  circle A27 centre (-200.025, -39.5097) radius 1.5875 projected
  circle A28 centre (-152.4, -38.1) radius 1.5875 projected
  circle A29 centre (-76.2, -38.1) radius 1.5875 projected
  circle A30 centre (-76.2, -190.5) radius 1.5875 projected
  circle A31 centre (-152.4, -190.5) radius 1.5875 projected
  line L1 (-142.875, 0) -> (-142.875, -34.7472) projected
  line L2 (-142.875, -34.7472) -> (-228.6, -34.7472) projected
  line L3 (-228.6, -193.8528) -> (-228.6, -34.7472) projected
  line L4 (-228.6, -193.8528) -> (-142.875, -193.8528) projected
  line L5 (-142.875, -193.8528) -> (-142.875, -228.6) projected
  line L6 (-85.725, -228.6) -> (-142.875, -228.6) projected
  line L7 (-85.725, -228.6) -> (-85.725, -193.8528) projected
  line L8 (-85.725, -193.8528) -> (0, -193.8528) projected
  line L9 (0, -34.7472) -> (0, -193.8528) projected
  line L10 (0, -34.7472) -> (-85.725, -34.7472) projected
  line L11 (-85.725, -34.7472) -> (-85.725, 0) projected
  line L12 (-142.875, 0) -> (-85.725, 0) projected
  line L13 (-180.975, -193.8528) -> (-180.975, -34.7472) projected
  line L14 (-219.075, -34.7472) -> (-219.075, -193.8528) projected
  line L15 (-9.525, -193.8528) -> (-9.525, -34.7472) projected
  line L16 (0, -34.7472) -> (0, -193.8528) construction
  line L17 (0, -114.3) -> (-228.6, -114.3) construction
  line L18 (-228.6, -193.8528) -> (-228.6, -34.7472) construction
  line L19 (-47.625, -34.7472) -> (-47.625, -193.8528) construction
  line L20 (-47.625, -114.3) -> (-9.525, -114.3) construction
  line L21 (-9.525, -100.0125) -> (-47.625, -100.0125)
  line L22 (-47.625, -100.0125) -> (-47.625, -128.5875)
  line L23 (-47.625, -128.5875) -> (-9.525, -128.5875)
  line L24 (-9.525, -128.5875) -> (-9.525, -100.0125)
  line L25 (-9.525, -100.0125) -> (-47.625, -128.5875) construction
  line L26 (-47.625, -100.0125) -> (-9.525, -128.5875) construction
  line L27 (-180.9463, -100.0125) -> (-219.075, -100.0125)
  line L28 (-219.075, -100.0125) -> (-219.075, -128.5875)
  line L29 (-219.075, -128.5875) -> (-180.9463, -128.5875)
  line L30 (-180.9463, -128.5875) -> (-180.9463, -100.0125)
  line L31 (-180.9463, -100.0125) -> (-219.075, -128.5875) construction
  line L32 (-219.075, -100.0125) -> (-180.9463, -128.5875) construction
  point P0 (0, 0)
  point P1 (-28.575, -114.3)
  point P2 (-200.0106, -114.3)
  dimension "d70" = 28.575
extrude "Extrusion11" cut sketch "Sketch11" against normal up to surface (9.525 mm away) contours L21 L15 L23 L0 | L27 L30 L29 L13 | L13 L29 L14 L27
fillet "Fillet1" radius 3.175 8 edges at (-142.875, 6.35, 0) (-85.725, 6.35, 0) (-85.725, 6.35, -228.6) (0, 6.35, -34.7472) (0, 6.35, -193.8528) (-142.875, 6.35, -228.6) (-228.6, 6.35, -193.8528) (-228.6, 6.35, -34.7472)
properties part number "BottomPlateV2" material "Polyethylene, High Density"
